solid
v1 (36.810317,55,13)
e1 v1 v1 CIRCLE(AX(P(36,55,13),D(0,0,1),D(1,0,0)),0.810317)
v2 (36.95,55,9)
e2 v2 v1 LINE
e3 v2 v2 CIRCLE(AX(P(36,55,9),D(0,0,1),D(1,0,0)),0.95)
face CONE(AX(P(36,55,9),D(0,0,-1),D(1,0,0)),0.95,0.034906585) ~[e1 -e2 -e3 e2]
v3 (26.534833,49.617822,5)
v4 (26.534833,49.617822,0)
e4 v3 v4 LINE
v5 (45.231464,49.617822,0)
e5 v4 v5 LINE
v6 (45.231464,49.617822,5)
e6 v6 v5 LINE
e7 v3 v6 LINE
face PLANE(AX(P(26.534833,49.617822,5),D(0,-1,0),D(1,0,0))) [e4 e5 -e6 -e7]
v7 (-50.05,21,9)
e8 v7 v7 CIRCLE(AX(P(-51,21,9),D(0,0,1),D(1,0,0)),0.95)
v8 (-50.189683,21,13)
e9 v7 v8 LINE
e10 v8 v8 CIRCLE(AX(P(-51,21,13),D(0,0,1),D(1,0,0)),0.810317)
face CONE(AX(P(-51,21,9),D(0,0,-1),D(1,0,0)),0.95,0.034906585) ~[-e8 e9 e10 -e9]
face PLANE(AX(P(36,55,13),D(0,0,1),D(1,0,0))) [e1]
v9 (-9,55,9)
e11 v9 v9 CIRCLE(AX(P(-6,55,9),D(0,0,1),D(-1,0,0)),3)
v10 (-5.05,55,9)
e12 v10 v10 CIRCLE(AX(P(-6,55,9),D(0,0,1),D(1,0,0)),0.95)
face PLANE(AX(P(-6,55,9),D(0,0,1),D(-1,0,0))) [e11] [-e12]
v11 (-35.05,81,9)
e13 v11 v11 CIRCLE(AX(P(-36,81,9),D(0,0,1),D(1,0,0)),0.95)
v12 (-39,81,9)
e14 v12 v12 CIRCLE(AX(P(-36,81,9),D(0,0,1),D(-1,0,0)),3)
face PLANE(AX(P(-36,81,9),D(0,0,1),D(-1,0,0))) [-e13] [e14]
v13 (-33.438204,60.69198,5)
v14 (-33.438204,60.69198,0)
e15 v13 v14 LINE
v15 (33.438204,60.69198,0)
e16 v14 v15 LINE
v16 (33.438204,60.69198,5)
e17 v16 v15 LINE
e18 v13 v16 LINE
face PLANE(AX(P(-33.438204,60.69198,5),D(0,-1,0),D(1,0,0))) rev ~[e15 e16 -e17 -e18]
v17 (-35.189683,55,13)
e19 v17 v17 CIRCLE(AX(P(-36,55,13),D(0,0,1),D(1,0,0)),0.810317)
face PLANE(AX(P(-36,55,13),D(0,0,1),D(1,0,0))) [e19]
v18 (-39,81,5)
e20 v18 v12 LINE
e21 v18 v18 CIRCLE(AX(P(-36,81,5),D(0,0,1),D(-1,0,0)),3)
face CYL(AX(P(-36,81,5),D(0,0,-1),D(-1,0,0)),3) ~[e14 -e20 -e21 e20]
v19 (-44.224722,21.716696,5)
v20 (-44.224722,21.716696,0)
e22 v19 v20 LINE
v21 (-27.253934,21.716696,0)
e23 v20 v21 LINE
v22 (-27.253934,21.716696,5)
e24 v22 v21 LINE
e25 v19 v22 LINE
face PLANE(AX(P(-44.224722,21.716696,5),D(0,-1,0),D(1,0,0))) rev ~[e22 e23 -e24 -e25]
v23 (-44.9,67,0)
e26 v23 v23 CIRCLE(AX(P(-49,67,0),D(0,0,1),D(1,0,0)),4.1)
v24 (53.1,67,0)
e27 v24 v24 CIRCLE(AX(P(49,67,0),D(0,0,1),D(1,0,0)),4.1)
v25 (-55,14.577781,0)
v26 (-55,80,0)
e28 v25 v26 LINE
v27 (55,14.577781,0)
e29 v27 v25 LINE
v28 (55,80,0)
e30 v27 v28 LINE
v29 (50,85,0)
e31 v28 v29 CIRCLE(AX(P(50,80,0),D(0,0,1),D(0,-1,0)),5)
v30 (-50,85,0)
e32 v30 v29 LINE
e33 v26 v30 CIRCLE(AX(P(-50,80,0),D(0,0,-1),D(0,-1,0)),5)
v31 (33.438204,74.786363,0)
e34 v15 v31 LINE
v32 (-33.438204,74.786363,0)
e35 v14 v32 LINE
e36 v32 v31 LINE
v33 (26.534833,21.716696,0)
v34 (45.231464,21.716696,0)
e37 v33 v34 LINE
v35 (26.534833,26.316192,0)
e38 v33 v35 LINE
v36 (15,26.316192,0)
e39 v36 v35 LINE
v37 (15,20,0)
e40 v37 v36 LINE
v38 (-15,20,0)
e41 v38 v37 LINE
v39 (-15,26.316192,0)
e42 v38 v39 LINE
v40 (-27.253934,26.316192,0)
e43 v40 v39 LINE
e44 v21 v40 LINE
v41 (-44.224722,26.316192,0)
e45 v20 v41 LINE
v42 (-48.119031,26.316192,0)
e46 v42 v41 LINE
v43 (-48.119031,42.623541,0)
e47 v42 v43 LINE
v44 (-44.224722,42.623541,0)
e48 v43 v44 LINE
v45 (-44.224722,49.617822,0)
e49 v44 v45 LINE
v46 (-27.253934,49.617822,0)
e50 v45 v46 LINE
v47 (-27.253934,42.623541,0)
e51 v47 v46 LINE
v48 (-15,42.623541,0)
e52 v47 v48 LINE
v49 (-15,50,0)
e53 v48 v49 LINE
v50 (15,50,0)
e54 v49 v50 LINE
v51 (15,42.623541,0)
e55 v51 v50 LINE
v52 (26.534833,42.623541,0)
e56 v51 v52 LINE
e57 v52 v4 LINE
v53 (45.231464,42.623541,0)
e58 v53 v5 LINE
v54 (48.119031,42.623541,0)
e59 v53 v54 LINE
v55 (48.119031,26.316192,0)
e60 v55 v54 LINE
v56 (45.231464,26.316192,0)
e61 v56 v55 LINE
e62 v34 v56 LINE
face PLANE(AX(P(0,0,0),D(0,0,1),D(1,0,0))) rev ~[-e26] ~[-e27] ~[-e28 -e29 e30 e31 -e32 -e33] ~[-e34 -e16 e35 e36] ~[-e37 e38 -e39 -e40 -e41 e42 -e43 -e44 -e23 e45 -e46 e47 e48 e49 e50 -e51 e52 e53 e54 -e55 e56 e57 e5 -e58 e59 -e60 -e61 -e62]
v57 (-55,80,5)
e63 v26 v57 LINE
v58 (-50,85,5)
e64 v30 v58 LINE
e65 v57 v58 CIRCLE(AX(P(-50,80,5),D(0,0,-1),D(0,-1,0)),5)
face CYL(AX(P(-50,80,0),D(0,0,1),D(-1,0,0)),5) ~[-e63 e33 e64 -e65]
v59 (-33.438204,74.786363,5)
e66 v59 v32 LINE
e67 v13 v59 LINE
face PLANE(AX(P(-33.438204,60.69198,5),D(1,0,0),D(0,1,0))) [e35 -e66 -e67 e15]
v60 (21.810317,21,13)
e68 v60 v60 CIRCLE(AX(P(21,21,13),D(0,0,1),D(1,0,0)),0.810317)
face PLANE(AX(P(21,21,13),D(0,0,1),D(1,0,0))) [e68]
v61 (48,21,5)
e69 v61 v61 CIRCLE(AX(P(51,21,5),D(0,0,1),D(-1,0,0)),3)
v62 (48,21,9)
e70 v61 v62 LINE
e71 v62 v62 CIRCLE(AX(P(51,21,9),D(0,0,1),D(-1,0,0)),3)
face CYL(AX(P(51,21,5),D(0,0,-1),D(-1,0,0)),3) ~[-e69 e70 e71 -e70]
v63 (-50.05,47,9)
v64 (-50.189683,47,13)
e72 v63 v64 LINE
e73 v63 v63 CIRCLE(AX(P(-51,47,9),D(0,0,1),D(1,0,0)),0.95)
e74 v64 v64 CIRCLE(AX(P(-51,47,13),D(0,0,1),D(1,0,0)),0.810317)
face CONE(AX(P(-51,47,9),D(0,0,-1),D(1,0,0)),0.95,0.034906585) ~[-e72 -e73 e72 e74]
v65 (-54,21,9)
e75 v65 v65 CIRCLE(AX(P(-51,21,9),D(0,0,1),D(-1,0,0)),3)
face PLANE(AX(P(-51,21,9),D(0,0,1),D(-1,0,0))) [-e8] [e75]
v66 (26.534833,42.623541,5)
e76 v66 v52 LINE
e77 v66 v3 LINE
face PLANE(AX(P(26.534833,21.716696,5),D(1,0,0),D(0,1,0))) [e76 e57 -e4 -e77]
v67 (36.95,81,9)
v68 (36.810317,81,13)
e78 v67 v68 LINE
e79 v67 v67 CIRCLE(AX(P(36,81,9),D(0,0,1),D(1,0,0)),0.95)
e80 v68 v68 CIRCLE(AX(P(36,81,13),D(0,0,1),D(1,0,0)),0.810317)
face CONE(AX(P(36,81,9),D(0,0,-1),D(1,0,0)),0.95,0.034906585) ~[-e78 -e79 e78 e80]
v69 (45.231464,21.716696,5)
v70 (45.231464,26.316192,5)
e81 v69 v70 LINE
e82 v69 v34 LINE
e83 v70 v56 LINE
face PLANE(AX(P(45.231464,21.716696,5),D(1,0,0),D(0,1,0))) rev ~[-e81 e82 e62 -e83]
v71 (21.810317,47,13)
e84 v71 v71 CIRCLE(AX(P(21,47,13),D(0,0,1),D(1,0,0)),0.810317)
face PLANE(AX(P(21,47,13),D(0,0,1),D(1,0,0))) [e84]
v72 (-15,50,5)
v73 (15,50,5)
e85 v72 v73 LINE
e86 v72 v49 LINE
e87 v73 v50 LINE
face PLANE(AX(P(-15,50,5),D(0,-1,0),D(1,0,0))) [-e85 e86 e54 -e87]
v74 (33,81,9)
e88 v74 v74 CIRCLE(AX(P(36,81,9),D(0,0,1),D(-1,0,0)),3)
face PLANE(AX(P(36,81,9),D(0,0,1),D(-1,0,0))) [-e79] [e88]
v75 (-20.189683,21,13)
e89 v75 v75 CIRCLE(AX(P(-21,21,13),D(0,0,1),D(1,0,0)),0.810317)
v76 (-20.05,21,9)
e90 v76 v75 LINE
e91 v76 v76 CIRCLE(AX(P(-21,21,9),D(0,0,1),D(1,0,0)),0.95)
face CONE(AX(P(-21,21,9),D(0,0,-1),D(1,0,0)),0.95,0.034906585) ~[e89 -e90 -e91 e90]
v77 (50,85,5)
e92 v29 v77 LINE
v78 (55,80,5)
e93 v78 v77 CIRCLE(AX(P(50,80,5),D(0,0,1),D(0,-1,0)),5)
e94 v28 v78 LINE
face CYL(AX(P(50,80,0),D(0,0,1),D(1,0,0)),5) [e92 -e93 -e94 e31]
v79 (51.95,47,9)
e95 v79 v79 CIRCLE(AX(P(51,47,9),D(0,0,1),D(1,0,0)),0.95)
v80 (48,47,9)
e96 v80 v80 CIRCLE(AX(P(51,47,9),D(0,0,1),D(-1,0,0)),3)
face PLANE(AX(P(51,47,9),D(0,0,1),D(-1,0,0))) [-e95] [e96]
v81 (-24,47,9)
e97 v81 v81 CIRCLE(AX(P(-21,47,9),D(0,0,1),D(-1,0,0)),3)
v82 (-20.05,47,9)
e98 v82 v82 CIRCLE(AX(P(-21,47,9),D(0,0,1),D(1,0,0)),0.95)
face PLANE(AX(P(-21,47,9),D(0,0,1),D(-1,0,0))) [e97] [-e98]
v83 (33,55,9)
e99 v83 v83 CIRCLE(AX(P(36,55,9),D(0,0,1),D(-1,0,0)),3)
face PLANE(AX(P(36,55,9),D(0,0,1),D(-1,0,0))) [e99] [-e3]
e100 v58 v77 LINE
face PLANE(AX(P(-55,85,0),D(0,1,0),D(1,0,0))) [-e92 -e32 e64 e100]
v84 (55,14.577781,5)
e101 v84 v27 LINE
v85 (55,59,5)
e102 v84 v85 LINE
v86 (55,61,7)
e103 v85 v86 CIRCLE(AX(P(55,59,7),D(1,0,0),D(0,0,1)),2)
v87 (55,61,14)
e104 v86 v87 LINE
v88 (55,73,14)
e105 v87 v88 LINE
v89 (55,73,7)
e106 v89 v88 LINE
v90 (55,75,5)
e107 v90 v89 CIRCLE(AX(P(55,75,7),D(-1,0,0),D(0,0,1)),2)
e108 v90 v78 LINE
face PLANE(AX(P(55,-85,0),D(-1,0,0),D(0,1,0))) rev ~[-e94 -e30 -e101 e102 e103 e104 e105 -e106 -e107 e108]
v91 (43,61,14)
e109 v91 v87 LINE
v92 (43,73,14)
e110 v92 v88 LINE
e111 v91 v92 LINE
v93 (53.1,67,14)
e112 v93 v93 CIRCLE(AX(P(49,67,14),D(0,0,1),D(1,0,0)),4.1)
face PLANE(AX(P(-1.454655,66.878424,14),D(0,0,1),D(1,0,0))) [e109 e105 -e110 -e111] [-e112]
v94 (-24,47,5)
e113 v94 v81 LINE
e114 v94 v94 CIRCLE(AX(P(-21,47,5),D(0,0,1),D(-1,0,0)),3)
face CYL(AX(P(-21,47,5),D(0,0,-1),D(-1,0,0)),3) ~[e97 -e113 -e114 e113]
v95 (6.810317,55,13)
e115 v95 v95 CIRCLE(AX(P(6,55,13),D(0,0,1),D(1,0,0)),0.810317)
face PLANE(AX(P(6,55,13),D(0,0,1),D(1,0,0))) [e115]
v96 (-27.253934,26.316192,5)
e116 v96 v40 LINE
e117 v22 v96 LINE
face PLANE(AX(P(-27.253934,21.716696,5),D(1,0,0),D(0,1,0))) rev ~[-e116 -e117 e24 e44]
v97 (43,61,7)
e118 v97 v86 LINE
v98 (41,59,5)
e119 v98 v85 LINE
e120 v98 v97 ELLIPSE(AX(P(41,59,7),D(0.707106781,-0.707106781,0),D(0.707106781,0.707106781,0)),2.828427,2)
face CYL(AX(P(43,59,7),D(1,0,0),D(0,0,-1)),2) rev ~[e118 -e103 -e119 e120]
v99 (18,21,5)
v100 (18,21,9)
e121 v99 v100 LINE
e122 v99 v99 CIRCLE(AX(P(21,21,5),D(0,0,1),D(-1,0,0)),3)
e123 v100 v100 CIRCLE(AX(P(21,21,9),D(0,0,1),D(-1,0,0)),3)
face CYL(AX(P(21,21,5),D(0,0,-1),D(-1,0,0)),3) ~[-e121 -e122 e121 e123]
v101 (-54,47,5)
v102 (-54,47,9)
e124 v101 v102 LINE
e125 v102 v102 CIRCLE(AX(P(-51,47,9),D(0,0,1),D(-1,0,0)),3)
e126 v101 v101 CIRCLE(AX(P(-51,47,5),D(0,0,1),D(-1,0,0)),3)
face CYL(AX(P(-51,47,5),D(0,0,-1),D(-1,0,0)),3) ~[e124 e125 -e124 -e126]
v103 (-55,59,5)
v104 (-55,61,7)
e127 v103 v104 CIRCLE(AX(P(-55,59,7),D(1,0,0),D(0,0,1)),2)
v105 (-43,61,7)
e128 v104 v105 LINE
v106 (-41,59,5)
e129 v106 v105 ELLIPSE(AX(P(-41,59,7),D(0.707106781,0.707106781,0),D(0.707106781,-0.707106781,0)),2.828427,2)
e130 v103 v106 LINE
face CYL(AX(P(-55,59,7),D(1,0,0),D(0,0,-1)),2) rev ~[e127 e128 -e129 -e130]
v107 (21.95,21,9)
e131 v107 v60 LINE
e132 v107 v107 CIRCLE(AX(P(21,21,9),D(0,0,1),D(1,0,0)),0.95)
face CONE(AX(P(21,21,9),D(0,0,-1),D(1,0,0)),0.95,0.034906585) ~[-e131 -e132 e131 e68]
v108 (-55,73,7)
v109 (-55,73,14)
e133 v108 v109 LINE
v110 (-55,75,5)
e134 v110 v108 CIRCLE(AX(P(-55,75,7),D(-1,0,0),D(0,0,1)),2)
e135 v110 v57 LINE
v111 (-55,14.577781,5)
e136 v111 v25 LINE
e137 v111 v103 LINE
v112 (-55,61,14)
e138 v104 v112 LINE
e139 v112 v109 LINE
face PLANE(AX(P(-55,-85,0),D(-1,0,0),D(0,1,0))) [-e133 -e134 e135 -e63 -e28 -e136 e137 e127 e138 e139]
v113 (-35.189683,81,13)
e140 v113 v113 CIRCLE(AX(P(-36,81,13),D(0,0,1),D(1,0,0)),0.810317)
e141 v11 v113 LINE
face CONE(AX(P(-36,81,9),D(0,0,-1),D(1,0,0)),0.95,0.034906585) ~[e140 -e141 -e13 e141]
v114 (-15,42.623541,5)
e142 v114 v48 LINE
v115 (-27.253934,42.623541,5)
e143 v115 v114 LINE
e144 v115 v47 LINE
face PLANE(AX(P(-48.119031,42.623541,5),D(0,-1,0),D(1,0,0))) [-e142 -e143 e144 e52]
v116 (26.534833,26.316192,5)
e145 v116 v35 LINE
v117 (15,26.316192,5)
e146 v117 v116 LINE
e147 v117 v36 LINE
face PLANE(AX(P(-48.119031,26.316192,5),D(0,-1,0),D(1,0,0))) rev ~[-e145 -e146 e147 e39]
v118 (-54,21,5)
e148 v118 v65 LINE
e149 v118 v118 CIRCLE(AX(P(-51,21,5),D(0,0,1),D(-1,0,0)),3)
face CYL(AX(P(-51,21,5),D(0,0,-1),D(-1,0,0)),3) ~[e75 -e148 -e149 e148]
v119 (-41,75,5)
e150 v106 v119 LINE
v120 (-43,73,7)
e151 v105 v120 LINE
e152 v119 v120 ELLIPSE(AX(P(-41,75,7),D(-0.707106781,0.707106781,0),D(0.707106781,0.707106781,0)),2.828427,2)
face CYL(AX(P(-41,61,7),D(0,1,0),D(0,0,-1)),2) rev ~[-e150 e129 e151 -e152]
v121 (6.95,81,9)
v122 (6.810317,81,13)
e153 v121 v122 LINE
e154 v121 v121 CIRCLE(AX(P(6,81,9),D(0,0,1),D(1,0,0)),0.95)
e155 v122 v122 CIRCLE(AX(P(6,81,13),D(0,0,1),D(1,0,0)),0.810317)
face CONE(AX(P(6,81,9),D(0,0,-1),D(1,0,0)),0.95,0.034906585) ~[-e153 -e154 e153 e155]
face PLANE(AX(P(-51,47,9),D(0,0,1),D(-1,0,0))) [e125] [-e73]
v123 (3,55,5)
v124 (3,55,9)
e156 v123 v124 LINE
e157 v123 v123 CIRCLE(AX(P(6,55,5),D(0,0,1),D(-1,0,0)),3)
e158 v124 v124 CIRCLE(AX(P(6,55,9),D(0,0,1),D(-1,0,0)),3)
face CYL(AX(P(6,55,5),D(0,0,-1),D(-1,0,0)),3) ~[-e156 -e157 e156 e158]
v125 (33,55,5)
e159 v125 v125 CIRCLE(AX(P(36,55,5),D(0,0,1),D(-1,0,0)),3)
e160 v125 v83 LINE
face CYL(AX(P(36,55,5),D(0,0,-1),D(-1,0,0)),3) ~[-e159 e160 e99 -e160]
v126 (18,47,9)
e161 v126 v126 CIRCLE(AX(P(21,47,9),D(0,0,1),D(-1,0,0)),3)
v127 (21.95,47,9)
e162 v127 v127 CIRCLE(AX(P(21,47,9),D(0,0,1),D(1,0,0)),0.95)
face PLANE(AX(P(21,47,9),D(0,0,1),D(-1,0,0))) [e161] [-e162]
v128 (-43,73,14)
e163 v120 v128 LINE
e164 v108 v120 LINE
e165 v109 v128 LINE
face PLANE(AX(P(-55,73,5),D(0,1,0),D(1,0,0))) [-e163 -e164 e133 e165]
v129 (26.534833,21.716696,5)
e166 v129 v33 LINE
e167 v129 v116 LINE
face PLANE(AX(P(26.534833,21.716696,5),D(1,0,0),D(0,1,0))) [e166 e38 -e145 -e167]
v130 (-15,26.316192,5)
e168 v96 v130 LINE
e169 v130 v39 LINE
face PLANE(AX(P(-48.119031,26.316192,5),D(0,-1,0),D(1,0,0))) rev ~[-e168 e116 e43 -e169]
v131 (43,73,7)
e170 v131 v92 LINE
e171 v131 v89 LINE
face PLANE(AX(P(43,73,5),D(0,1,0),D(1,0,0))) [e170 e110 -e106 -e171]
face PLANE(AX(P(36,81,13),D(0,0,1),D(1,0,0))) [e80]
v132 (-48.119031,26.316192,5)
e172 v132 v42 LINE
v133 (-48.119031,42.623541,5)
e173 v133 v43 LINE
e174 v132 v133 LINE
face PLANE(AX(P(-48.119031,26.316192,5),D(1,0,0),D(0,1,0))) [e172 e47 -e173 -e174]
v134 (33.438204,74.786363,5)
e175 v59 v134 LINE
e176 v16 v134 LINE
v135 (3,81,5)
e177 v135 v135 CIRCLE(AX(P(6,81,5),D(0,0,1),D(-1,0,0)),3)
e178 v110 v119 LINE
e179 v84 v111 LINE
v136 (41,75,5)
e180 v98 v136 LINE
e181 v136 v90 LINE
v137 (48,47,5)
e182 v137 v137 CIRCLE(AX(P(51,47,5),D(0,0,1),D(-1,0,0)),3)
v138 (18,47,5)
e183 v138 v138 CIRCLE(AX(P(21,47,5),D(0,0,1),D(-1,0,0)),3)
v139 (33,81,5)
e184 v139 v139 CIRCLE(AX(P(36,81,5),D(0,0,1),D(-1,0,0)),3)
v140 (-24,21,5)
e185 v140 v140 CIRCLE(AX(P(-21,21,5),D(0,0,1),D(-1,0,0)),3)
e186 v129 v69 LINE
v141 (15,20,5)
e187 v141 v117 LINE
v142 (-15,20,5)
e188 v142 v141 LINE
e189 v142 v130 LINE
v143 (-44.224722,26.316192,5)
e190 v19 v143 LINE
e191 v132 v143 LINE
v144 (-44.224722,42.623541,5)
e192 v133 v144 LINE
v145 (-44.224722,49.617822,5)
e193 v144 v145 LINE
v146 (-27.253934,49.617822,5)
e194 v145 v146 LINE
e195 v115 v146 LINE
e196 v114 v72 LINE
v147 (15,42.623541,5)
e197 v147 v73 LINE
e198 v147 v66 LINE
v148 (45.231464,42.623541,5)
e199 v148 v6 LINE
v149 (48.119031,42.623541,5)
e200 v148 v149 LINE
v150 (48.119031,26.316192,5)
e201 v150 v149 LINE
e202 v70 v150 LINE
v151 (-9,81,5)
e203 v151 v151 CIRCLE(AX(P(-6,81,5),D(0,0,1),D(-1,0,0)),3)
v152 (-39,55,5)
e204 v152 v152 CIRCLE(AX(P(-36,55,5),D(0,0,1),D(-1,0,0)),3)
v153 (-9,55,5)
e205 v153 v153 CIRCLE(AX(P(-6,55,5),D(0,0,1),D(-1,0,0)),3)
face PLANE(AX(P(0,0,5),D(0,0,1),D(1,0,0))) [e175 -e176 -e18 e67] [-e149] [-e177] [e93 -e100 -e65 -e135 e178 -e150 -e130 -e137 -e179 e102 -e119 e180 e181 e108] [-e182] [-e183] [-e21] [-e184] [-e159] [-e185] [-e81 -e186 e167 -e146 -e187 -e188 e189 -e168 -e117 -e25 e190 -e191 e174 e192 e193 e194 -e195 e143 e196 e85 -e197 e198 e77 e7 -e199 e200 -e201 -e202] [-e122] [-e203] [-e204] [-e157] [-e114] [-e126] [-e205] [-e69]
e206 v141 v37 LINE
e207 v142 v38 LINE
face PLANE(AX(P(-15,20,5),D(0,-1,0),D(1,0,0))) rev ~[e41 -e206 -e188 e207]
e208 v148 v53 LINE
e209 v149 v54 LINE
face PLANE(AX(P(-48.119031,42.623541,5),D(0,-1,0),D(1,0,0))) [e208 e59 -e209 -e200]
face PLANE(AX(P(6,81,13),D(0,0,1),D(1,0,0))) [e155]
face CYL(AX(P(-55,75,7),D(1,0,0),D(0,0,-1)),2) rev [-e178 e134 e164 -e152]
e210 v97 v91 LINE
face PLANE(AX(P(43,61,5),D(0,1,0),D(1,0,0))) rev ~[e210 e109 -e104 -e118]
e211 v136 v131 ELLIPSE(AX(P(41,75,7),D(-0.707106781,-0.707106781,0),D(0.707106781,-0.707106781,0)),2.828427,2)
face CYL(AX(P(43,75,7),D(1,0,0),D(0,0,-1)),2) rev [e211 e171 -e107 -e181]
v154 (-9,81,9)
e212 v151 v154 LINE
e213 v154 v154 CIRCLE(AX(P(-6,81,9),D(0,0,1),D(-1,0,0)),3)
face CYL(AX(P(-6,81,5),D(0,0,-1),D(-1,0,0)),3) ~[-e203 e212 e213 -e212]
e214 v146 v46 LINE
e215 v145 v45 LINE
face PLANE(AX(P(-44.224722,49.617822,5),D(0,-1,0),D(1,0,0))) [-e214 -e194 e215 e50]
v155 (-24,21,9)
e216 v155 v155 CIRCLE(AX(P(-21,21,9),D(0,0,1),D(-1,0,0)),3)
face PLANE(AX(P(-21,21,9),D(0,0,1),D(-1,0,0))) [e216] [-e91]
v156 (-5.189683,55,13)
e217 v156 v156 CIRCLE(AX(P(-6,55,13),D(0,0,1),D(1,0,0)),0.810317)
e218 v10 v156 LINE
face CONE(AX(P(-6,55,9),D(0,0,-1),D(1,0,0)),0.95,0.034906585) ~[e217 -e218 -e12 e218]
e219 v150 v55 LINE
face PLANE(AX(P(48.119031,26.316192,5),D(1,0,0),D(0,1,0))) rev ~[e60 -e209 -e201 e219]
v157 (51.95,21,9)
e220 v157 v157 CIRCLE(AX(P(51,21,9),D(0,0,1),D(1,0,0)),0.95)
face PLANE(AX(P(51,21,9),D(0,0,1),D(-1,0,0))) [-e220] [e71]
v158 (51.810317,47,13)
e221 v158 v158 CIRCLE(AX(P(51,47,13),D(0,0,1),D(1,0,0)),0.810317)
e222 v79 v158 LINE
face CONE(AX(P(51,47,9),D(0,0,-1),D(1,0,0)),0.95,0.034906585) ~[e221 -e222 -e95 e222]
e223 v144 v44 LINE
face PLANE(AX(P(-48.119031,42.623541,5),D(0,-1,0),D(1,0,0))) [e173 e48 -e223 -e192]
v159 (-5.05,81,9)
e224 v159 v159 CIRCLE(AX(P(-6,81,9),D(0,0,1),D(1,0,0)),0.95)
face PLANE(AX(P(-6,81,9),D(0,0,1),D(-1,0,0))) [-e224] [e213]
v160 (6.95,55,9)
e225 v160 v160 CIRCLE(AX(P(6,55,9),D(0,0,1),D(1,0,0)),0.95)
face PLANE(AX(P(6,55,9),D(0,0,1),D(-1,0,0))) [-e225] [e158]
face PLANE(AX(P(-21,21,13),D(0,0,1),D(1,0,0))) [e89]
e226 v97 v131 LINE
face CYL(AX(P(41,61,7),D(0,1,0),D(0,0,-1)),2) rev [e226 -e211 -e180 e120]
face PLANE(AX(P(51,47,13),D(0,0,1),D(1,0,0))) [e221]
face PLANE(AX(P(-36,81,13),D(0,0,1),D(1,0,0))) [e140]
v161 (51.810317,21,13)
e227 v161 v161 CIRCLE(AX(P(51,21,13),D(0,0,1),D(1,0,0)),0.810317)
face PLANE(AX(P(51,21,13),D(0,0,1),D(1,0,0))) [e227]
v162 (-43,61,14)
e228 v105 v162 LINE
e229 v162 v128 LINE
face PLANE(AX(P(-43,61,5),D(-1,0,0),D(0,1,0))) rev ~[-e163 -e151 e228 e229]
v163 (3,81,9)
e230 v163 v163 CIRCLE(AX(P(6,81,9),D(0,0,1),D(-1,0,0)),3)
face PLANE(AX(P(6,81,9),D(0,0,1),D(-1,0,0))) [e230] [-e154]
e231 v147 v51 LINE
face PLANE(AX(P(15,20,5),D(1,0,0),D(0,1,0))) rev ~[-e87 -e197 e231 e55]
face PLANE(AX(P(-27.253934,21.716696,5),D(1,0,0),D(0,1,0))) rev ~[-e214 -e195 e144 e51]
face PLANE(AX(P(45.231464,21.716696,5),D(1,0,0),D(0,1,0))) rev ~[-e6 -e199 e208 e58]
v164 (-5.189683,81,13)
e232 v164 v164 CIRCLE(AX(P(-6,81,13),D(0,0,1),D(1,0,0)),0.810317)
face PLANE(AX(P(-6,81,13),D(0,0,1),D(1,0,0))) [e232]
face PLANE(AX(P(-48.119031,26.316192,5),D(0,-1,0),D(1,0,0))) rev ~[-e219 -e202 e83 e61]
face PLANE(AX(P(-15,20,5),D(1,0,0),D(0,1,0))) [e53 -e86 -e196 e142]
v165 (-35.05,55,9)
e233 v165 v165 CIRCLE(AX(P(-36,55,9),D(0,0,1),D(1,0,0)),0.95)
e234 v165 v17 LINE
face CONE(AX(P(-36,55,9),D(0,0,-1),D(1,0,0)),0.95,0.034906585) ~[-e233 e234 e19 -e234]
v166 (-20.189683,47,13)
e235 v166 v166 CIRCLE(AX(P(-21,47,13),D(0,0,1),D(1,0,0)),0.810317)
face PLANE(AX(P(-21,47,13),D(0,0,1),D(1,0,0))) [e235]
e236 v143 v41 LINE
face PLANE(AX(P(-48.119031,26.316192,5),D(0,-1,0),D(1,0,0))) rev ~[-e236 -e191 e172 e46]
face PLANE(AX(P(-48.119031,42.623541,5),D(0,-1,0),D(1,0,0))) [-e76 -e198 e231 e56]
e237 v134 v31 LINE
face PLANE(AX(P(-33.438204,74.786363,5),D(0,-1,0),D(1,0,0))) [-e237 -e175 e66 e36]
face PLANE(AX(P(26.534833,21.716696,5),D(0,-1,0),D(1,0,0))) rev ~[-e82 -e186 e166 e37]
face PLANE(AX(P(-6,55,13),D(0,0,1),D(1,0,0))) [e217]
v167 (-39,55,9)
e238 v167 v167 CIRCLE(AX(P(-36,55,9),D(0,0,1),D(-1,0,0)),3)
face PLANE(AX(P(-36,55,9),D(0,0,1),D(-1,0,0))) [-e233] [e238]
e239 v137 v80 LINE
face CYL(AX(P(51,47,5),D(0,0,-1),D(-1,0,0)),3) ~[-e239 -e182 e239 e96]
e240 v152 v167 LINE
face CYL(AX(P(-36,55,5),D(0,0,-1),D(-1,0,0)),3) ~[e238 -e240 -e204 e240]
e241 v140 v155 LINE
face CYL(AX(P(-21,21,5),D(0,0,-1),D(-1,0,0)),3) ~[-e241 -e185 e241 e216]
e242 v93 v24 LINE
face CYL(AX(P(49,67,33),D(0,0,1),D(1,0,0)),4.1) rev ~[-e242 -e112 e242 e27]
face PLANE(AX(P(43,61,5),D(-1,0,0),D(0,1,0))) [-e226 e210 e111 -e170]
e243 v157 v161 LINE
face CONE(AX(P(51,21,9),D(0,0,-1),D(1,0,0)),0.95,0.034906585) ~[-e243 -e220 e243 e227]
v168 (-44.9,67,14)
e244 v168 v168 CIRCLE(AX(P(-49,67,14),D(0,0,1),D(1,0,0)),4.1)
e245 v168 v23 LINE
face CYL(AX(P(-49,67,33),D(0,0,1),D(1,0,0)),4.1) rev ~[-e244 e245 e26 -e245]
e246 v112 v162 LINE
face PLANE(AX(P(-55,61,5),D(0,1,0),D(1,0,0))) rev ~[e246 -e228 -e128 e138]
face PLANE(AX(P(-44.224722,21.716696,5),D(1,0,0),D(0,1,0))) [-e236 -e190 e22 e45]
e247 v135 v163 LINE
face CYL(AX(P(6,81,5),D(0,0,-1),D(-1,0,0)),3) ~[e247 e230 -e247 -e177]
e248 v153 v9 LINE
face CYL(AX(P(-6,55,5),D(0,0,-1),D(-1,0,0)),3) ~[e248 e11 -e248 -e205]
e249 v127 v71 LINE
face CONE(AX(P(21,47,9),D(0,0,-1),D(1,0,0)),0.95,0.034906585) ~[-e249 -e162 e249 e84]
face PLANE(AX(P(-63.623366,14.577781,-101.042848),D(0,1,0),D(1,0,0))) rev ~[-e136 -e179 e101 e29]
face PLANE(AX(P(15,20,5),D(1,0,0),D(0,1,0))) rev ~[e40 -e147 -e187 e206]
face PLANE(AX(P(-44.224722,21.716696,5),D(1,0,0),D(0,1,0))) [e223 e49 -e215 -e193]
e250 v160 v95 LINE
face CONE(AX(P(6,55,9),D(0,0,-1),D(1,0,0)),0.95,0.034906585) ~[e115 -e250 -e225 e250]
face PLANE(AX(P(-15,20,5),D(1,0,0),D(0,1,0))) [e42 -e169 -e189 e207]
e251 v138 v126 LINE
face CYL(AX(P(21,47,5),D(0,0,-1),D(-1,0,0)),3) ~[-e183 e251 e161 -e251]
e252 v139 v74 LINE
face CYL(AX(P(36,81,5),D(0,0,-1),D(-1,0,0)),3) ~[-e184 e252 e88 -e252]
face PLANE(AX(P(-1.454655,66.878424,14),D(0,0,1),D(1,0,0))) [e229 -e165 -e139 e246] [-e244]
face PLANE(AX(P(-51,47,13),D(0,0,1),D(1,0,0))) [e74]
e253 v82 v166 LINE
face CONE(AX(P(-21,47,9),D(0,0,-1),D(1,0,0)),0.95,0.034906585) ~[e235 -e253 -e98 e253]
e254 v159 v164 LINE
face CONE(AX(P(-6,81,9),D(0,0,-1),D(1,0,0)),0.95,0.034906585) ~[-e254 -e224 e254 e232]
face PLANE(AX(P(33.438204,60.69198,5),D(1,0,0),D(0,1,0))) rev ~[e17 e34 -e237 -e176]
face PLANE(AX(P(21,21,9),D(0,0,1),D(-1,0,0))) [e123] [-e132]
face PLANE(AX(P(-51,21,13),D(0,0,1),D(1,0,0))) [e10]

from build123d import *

# Parameters (mm, degrees)
SKIZZE1_W                                  = 110
SKIZZE1_H                                  = 170
AUFSATZ_LINEAR_AUSTRAGEN1_DEPTH            = 5
VERRUNDUNG1_R                              = 5
SKIZZE7_W                                  = 12
SKIZZE7_H                                  = 12
AUFSATZ_LINEAR_AUSTRAGEN3_DEPTH            = 28
VERRUNDUNG2_R                              = 2
SKIZZE8_R                                  = 4.1
SCHNITT_LINEAR_AUSTRAGEN3_DEPTH            = 107.484740691
LINEARES_MUSTER1_COUNT                     = 2
LINEARES_MUSTER1_PITCH                     = 134
LINEARES_MUSTER1_COUNT_DIR2                = 2
LINEARES_MUSTER1_PITCH_DIR2                = 98
SKIZZE9_R                                  = 3
AUFSATZ_LINEAR_AUSTRAGEN4_DEPTH            = 4
SKIZZE10_R                                 = 0.95
AUFSATZ_LINEAR_AUSTRAGEN5_DEPTH            = 4
AUFSATZ_LINEAR_AUSTRAGEN5_DRAFT            = 2
AUFSATZ_LINEAR_AUSTRAGEN5_PROFILE_2_DEPTH  = 4
AUFSATZ_LINEAR_AUSTRAGEN5_PROFILE_2_DRAFT  = 2
AUFSATZ_LINEAR_AUSTRAGEN5_PROFILE_3_DEPTH  = 4
AUFSATZ_LINEAR_AUSTRAGEN5_PROFILE_3_DRAFT  = 2
AUFSATZ_LINEAR_AUSTRAGEN5_PROFILE_4_DEPTH  = 4
AUFSATZ_LINEAR_AUSTRAGEN5_PROFILE_4_DRAFT  = 2
AUFSATZ_LINEAR_AUSTRAGEN5_PROFILE_5_DEPTH  = 4
AUFSATZ_LINEAR_AUSTRAGEN5_PROFILE_5_DRAFT  = 2
AUFSATZ_LINEAR_AUSTRAGEN5_PROFILE_6_DEPTH  = 4
AUFSATZ_LINEAR_AUSTRAGEN5_PROFILE_6_DRAFT  = 2
AUFSATZ_LINEAR_AUSTRAGEN5_PROFILE_7_DEPTH  = 4
AUFSATZ_LINEAR_AUSTRAGEN5_PROFILE_7_DRAFT  = 2
AUFSATZ_LINEAR_AUSTRAGEN5_PROFILE_8_DEPTH  = 4
AUFSATZ_LINEAR_AUSTRAGEN5_PROFILE_8_DRAFT  = 2
AUFSATZ_LINEAR_AUSTRAGEN5_PROFILE_9_DEPTH  = 4
AUFSATZ_LINEAR_AUSTRAGEN5_PROFILE_9_DRAFT  = 2
AUFSATZ_LINEAR_AUSTRAGEN5_PROFILE_10_DEPTH = 4
AUFSATZ_LINEAR_AUSTRAGEN5_PROFILE_10_DRAFT = 2
AUFSATZ_LINEAR_AUSTRAGEN5_PROFILE_11_DEPTH = 4
AUFSATZ_LINEAR_AUSTRAGEN5_PROFILE_11_DRAFT = 2
AUFSATZ_LINEAR_AUSTRAGEN5_PROFILE_12_DEPTH = 4
AUFSATZ_LINEAR_AUSTRAGEN5_PROFILE_12_DRAFT = 2
AUFSATZ_LINEAR_AUSTRAGEN5_PROFILE_13_DEPTH = 4
AUFSATZ_LINEAR_AUSTRAGEN5_PROFILE_13_DRAFT = 2
AUFSATZ_LINEAR_AUSTRAGEN5_PROFILE_14_DEPTH = 4
AUFSATZ_LINEAR_AUSTRAGEN5_PROFILE_14_DRAFT = 2
AUFSATZ_LINEAR_AUSTRAGEN5_PROFILE_15_DEPTH = 4
AUFSATZ_LINEAR_AUSTRAGEN5_PROFILE_15_DRAFT = 2
AUFSATZ_LINEAR_AUSTRAGEN5_PROFILE_16_DEPTH = 4
AUFSATZ_LINEAR_AUSTRAGEN5_PROFILE_16_DRAFT = 2
AUFSATZ_LINEAR_AUSTRAGEN5_PROFILE_17_DEPTH = 4
AUFSATZ_LINEAR_AUSTRAGEN5_PROFILE_17_DRAFT = 2
AUFSATZ_LINEAR_AUSTRAGEN5_PROFILE_18_DEPTH = 4
AUFSATZ_LINEAR_AUSTRAGEN5_PROFILE_18_DRAFT = 2
AUFSATZ_LINEAR_AUSTRAGEN5_PROFILE_19_DEPTH = 4
AUFSATZ_LINEAR_AUSTRAGEN5_PROFILE_19_DRAFT = 2
AUFSATZ_LINEAR_AUSTRAGEN5_PROFILE_20_DEPTH = 4
AUFSATZ_LINEAR_AUSTRAGEN5_PROFILE_20_DRAFT = 2
FASE1_SIZE                                 = 1.2
SKIZZE11_W                                 = 30
SKIZZE11_H                                 = 30
SCHNITT_LINEAR_AUSTRAGEN4_DEPTH            = 106.0428484
SCHNITT_LINEAR_AUSTRAGEN5_DEPTH            = 106.0428484
SCHNITT_LINEAR_AUSTRAGEN5_DEPTH_BACK       = 106.0428484
SKIZZE12_W                                 = 127.246732026
SKIZZE12_H                                 = 102.785709754
SKIZZE13_W                                 = 132.216184194
SKIZZE13_H                                 = 22.314967796
SCHNITT_LINEAR_AUSTRAGEN6_DEPTH            = 19
SKIZZE14_W                                 = 16.970787643
SKIZZE14_H                                 = 27.901125447
SKIZZE14_W_2                               = 66.876408934
SKIZZE14_H_2                               = 14.094382958
SKIZZE14_W_3                               = 18.696630454
SCHNITT_LINEAR_AUSTRAGEN7_DEPTH            = 102.641526946
SKIZZE15_W                                 = 96.238062378
SKIZZE15_H                                 = 16.307348182
SCHNITT_LINEAR_AUSTRAGEN8_DEPTH            = 102.641526946


with BuildPart() as part:
    # Skizze1 → Aufsatz-Linear austragen1 (new body)
    with BuildSketch(Plane.XY):
        Rectangle(SKIZZE1_W, SKIZZE1_H)
    extrude(amount=AUFSATZ_LINEAR_AUSTRAGEN1_DEPTH)

    # Verrundung1
    verrundung1_edges = [part.edges().sort_by_distance(p)[0] for p in [
        (55, -85, 2.5),
        (-55, -85, 2.5),
        (-55, 85, 2.5),
        (55, 85, 2.5),
    ]]
    fillet(verrundung1_edges, radius=VERRUNDUNG1_R)

    # Skizze7 → Aufsatz-Linear austragen3 (add)
    with BuildSketch(Plane.XY.offset(5)):
        with Locations((-49, 67)):
            Rectangle(SKIZZE7_W, SKIZZE7_H)
        with Locations((49, 67)):
            Rectangle(SKIZZE7_W, SKIZZE7_H)
        with Locations((49, -67)):
            Rectangle(SKIZZE7_W, SKIZZE7_H)
        with Locations((-49, -67)):
            Rectangle(SKIZZE7_W, SKIZZE7_H)
    extrude(amount=AUFSATZ_LINEAR_AUSTRAGEN3_DEPTH)

    # Verrundung2
    verrundung2_edges = [part.edges().sort_by_distance(p)[0] for p in [
        (-49, 61, 5),
        (-43, 67, 5),
        (-49, 73, 5),
        (49, 73, 5),
        (43, 67, 5),
        (49, 61, 5),
        (49, -61, 5),
        (43, -67, 5),
        (49, -73, 5),
        (-49, -73, 5),
        (-43, -67, 5),
        (-49, -61, 5),
    ]]
    fillet(verrundung2_edges, radius=VERRUNDUNG2_R)

    # Skizze8 → Schnitt-Linear austragen3 (cut, through all)
    with BuildSketch(Plane.XY.offset(33)):
        with Locations((-49, 67)):
            Circle(SKIZZE8_R)
    schnitt_linear_austragen3 = extrude(amount=-SCHNITT_LINEAR_AUSTRAGEN3_DEPTH, mode=Mode.SUBTRACT)

    # Lineares Muster1: Schnitt-Linear austragen3 2 × 2
    with Locations(*[(j * LINEARES_MUSTER1_PITCH_DIR2, -i * LINEARES_MUSTER1_PITCH, 0) for i in range(LINEARES_MUSTER1_COUNT) for j in range(LINEARES_MUSTER1_COUNT_DIR2) if (i, j) != (0, 0)]):
        add(schnitt_linear_austragen3, mode=Mode.SUBTRACT)

    # Skizze9 → Aufsatz-Linear austragen4 (add)
    with BuildSketch(Plane.XY.offset(5)):
        with Locations(Location((24.75, -73.75, 0), (0, 0, 180))):
            Circle(SKIZZE9_R)
        with Locations(Location((24.75, -16.25, 0), (0, 0, 180))):
            Circle(SKIZZE9_R)
        with Locations(Location((-24.75, -16.25, 0), (0, 0, 180))):
            Circle(SKIZZE9_R)
        with Locations(Location((-24.75, -73.75, 0), (0, 0, 180))):
            Circle(SKIZZE9_R)
        with Locations(Location((-36, 81, 0), (0, 0, 180))):
            Circle(SKIZZE9_R)
        with Locations(Location((-6, 81, 0), (0, 0, 180))):
            Circle(SKIZZE9_R)
        with Locations(Location((-36, 55, 0), (0, 0, 180))):
            Circle(SKIZZE9_R)
        with Locations(Location((-6, 55, 0), (0, 0, 180))):
            Circle(SKIZZE9_R)
        with Locations(Location((6, 81, 0), (0, 0, 180))):
            Circle(SKIZZE9_R)
        with Locations(Location((36, 81, 0), (0, 0, 180))):
            Circle(SKIZZE9_R)
        with Locations(Location((36, 55, 0), (0, 0, 180))):
            Circle(SKIZZE9_R)
        with Locations(Location((6, 55, 0), (0, 0, 180))):
            Circle(SKIZZE9_R)
        with Locations(Location((21, 47, 0), (0, 0, 180))):
            Circle(SKIZZE9_R)
        with Locations(Location((51, 47, 0), (0, 0, 180))):
            Circle(SKIZZE9_R)
        with Locations(Location((51, 21, 0), (0, 0, 180))):
            Circle(SKIZZE9_R)
        with Locations(Location((21, 21, 0), (0, 0, 180))):
            Circle(SKIZZE9_R)
        with Locations(Location((-21, 47, 0), (0, 0, 180))):
            Circle(SKIZZE9_R)
        with Locations(Location((-51, 47, 0), (0, 0, 180))):
            Circle(SKIZZE9_R)
        with Locations(Location((-51, 21, 0), (0, 0, 180))):
            Circle(SKIZZE9_R)
        with Locations(Location((-21, 21, 0), (0, 0, 180))):
            Circle(SKIZZE9_R)
    extrude(amount=AUFSATZ_LINEAR_AUSTRAGEN4_DEPTH)


with BuildPart() as aufsatz_linear_austragen5_tool:
    # Skizze10 → Aufsatz-Linear austragen5 (with draft: the straight prism first)
    with BuildSketch(Plane.XY.offset(9)):
        with Locations((24.75, -73.75)):
            Circle(SKIZZE10_R)
    extrude(amount=AUFSATZ_LINEAR_AUSTRAGEN5_DEPTH)
    # Aufsatz-Linear austragen5: the draft: its side faces are tilted about the plane it starts from
    aufsatz_linear_austragen5_sides = [aufsatz_linear_austragen5_tool.faces().sort_by_distance(p)[0] for p in [
        (23.8, -73.75, 11),
    ]]
    draft(aufsatz_linear_austragen5_sides, Plane.XY.offset(9), AUFSATZ_LINEAR_AUSTRAGEN5_DRAFT)


with BuildPart() as part_1:
    add(part.part)

    # Aufsatz-Linear austragen5: add aufsatz_linear_austragen5_tool
    add(aufsatz_linear_austragen5_tool.part)


with BuildPart() as aufsatz_linear_austragen5_profile_2_tool:
    # Skizze10 → Aufsatz-Linear austragen5 profile 2 (with draft: the straight prism first)
    with BuildSketch(Plane.XY.offset(9)):
        with Locations((24.75, -16.25)):
            Circle(SKIZZE10_R)
    extrude(amount=AUFSATZ_LINEAR_AUSTRAGEN5_PROFILE_2_DEPTH)
    # Aufsatz-Linear austragen5 profile 2: the draft: its side faces are tilted about the plane it starts from
    aufsatz_linear_austragen5_profile_2_sides = [aufsatz_linear_austragen5_profile_2_tool.faces().sort_by_distance(p)[0] for p in [
        (23.8, -16.25, 11),
    ]]
    draft(aufsatz_linear_austragen5_profile_2_sides, Plane.XY.offset(9), AUFSATZ_LINEAR_AUSTRAGEN5_PROFILE_2_DRAFT)


with BuildPart() as part_2:
    add(part_1.part)

    # Aufsatz-Linear austragen5 profile 2: add aufsatz_linear_austragen5_profile_2_tool
    add(aufsatz_linear_austragen5_profile_2_tool.part)


with BuildPart() as aufsatz_linear_austragen5_profile_3_tool:
    # Skizze10 → Aufsatz-Linear austragen5 profile 3 (with draft: the straight prism first)
    with BuildSketch(Plane.XY.offset(9)):
        with Locations((-24.75, -16.25)):
            Circle(SKIZZE10_R)
    extrude(amount=AUFSATZ_LINEAR_AUSTRAGEN5_PROFILE_3_DEPTH)
    # Aufsatz-Linear austragen5 profile 3: the draft: its side faces are tilted about the plane it starts from
    aufsatz_linear_austragen5_profile_3_sides = [aufsatz_linear_austragen5_profile_3_tool.faces().sort_by_distance(p)[0] for p in [
        (-25.7, -16.25, 11),
    ]]
    draft(aufsatz_linear_austragen5_profile_3_sides, Plane.XY.offset(9), AUFSATZ_LINEAR_AUSTRAGEN5_PROFILE_3_DRAFT)


with BuildPart() as part_3:
    add(part_2.part)

    # Aufsatz-Linear austragen5 profile 3: add aufsatz_linear_austragen5_profile_3_tool
    add(aufsatz_linear_austragen5_profile_3_tool.part)


with BuildPart() as aufsatz_linear_austragen5_profile_4_tool:
    # Skizze10 → Aufsatz-Linear austragen5 profile 4 (with draft: the straight prism first)
    with BuildSketch(Plane.XY.offset(9)):
        with Locations((-24.75, -73.75)):
            Circle(SKIZZE10_R)
    extrude(amount=AUFSATZ_LINEAR_AUSTRAGEN5_PROFILE_4_DEPTH)
    # Aufsatz-Linear austragen5 profile 4: the draft: its side faces are tilted about the plane it starts from
    aufsatz_linear_austragen5_profile_4_sides = [aufsatz_linear_austragen5_profile_4_tool.faces().sort_by_distance(p)[0] for p in [
        (-25.7, -73.75, 11),
    ]]
    draft(aufsatz_linear_austragen5_profile_4_sides, Plane.XY.offset(9), AUFSATZ_LINEAR_AUSTRAGEN5_PROFILE_4_DRAFT)


with BuildPart() as part_4:
    add(part_3.part)

    # Aufsatz-Linear austragen5 profile 4: add aufsatz_linear_austragen5_profile_4_tool
    add(aufsatz_linear_austragen5_profile_4_tool.part)


with BuildPart() as aufsatz_linear_austragen5_profile_5_tool:
    # Skizze10 → Aufsatz-Linear austragen5 profile 5 (with draft: the straight prism first)
    with BuildSketch(Plane.XY.offset(9)):
        with Locations((-51, 47)):
            Circle(SKIZZE10_R)
    extrude(amount=AUFSATZ_LINEAR_AUSTRAGEN5_PROFILE_5_DEPTH)
    # Aufsatz-Linear austragen5 profile 5: the draft: its side faces are tilted about the plane it starts from
    aufsatz_linear_austragen5_profile_5_sides = [aufsatz_linear_austragen5_profile_5_tool.faces().sort_by_distance(p)[0] for p in [
        (-51.95, 47, 11),
    ]]
    draft(aufsatz_linear_austragen5_profile_5_sides, Plane.XY.offset(9), AUFSATZ_LINEAR_AUSTRAGEN5_PROFILE_5_DRAFT)


with BuildPart() as part_5:
    add(part_4.part)

    # Aufsatz-Linear austragen5 profile 5: add aufsatz_linear_austragen5_profile_5_tool
    add(aufsatz_linear_austragen5_profile_5_tool.part)


with BuildPart() as aufsatz_linear_austragen5_profile_6_tool:
    # Skizze10 → Aufsatz-Linear austragen5 profile 6 (with draft: the straight prism first)
    with BuildSketch(Plane.XY.offset(9)):
        with Locations((-51, 21)):
            Circle(SKIZZE10_R)
    extrude(amount=AUFSATZ_LINEAR_AUSTRAGEN5_PROFILE_6_DEPTH)
    # Aufsatz-Linear austragen5 profile 6: the draft: its side faces are tilted about the plane it starts from
    aufsatz_linear_austragen5_profile_6_sides = [aufsatz_linear_austragen5_profile_6_tool.faces().sort_by_distance(p)[0] for p in [
        (-51.95, 21, 11),
    ]]
    draft(aufsatz_linear_austragen5_profile_6_sides, Plane.XY.offset(9), AUFSATZ_LINEAR_AUSTRAGEN5_PROFILE_6_DRAFT)


with BuildPart() as part_6:
    add(part_5.part)

    # Aufsatz-Linear austragen5 profile 6: add aufsatz_linear_austragen5_profile_6_tool
    add(aufsatz_linear_austragen5_profile_6_tool.part)


with BuildPart() as aufsatz_linear_austragen5_profile_7_tool:
    # Skizze10 → Aufsatz-Linear austragen5 profile 7 (with draft: the straight prism first)
    with BuildSketch(Plane.XY.offset(9)):
        with Locations((-21, 21)):
            Circle(SKIZZE10_R)
    extrude(amount=AUFSATZ_LINEAR_AUSTRAGEN5_PROFILE_7_DEPTH)
    # Aufsatz-Linear austragen5 profile 7: the draft: its side faces are tilted about the plane it starts from
    aufsatz_linear_austragen5_profile_7_sides = [aufsatz_linear_austragen5_profile_7_tool.faces().sort_by_distance(p)[0] for p in [
        (-21.95, 21, 11),
    ]]
    draft(aufsatz_linear_austragen5_profile_7_sides, Plane.XY.offset(9), AUFSATZ_LINEAR_AUSTRAGEN5_PROFILE_7_DRAFT)


with BuildPart() as part_7:
    add(part_6.part)

    # Aufsatz-Linear austragen5 profile 7: add aufsatz_linear_austragen5_profile_7_tool
    add(aufsatz_linear_austragen5_profile_7_tool.part)


with BuildPart() as aufsatz_linear_austragen5_profile_8_tool:
    # Skizze10 → Aufsatz-Linear austragen5 profile 8 (with draft: the straight prism first)
    with BuildSketch(Plane.XY.offset(9)):
        with Locations((-21, 47)):
            Circle(SKIZZE10_R)
    extrude(amount=AUFSATZ_LINEAR_AUSTRAGEN5_PROFILE_8_DEPTH)
    # Aufsatz-Linear austragen5 profile 8: the draft: its side faces are tilted about the plane it starts from
    aufsatz_linear_austragen5_profile_8_sides = [aufsatz_linear_austragen5_profile_8_tool.faces().sort_by_distance(p)[0] for p in [
        (-21.95, 47, 11),
    ]]
    draft(aufsatz_linear_austragen5_profile_8_sides, Plane.XY.offset(9), AUFSATZ_LINEAR_AUSTRAGEN5_PROFILE_8_DRAFT)


with BuildPart() as part_8:
    add(part_7.part)

    # Aufsatz-Linear austragen5 profile 8: add aufsatz_linear_austragen5_profile_8_tool
    add(aufsatz_linear_austragen5_profile_8_tool.part)


with BuildPart() as aufsatz_linear_austragen5_profile_9_tool:
    # Skizze10 → Aufsatz-Linear austragen5 profile 9 (with draft: the straight prism first)
    with BuildSketch(Plane.XY.offset(9)):
        with Locations((-36, 55)):
            Circle(SKIZZE10_R)
    extrude(amount=AUFSATZ_LINEAR_AUSTRAGEN5_PROFILE_9_DEPTH)
    # Aufsatz-Linear austragen5 profile 9: the draft: its side faces are tilted about the plane it starts from
    aufsatz_linear_austragen5_profile_9_sides = [aufsatz_linear_austragen5_profile_9_tool.faces().sort_by_distance(p)[0] for p in [
        (-36.95, 55, 11),
    ]]
    draft(aufsatz_linear_austragen5_profile_9_sides, Plane.XY.offset(9), AUFSATZ_LINEAR_AUSTRAGEN5_PROFILE_9_DRAFT)


with BuildPart() as part_9:
    add(part_8.part)

    # Aufsatz-Linear austragen5 profile 9: add aufsatz_linear_austragen5_profile_9_tool
    add(aufsatz_linear_austragen5_profile_9_tool.part)


with BuildPart() as aufsatz_linear_austragen5_profile_10_tool:
    # Skizze10 → Aufsatz-Linear austragen5 profile 10 (with draft: the straight prism first)
    with BuildSketch(Plane.XY.offset(9)):
        with Locations((-6, 55)):
            Circle(SKIZZE10_R)
    extrude(amount=AUFSATZ_LINEAR_AUSTRAGEN5_PROFILE_10_DEPTH)
    # Aufsatz-Linear austragen5 profile 10: the draft: its side faces are tilted about the plane it starts from
    aufsatz_linear_austragen5_profile_10_sides = [aufsatz_linear_austragen5_profile_10_tool.faces().sort_by_distance(p)[0] for p in [
        (-6.95, 55, 11),
    ]]
    draft(aufsatz_linear_austragen5_profile_10_sides, Plane.XY.offset(9), AUFSATZ_LINEAR_AUSTRAGEN5_PROFILE_10_DRAFT)


with BuildPart() as part_10:
    add(part_9.part)

    # Aufsatz-Linear austragen5 profile 10: add aufsatz_linear_austragen5_profile_10_tool
    add(aufsatz_linear_austragen5_profile_10_tool.part)


with BuildPart() as aufsatz_linear_austragen5_profile_11_tool:
    # Skizze10 → Aufsatz-Linear austragen5 profile 11 (with draft: the straight prism first)
    with BuildSketch(Plane.XY.offset(9)):
        with Locations((6, 55)):
            Circle(SKIZZE10_R)
    extrude(amount=AUFSATZ_LINEAR_AUSTRAGEN5_PROFILE_11_DEPTH)
    # Aufsatz-Linear austragen5 profile 11: the draft: its side faces are tilted about the plane it starts from
    aufsatz_linear_austragen5_profile_11_sides = [aufsatz_linear_austragen5_profile_11_tool.faces().sort_by_distance(p)[0] for p in [
        (5.05, 55, 11),
    ]]
    draft(aufsatz_linear_austragen5_profile_11_sides, Plane.XY.offset(9), AUFSATZ_LINEAR_AUSTRAGEN5_PROFILE_11_DRAFT)


with BuildPart() as part_11:
    add(part_10.part)

    # Aufsatz-Linear austragen5 profile 11: add aufsatz_linear_austragen5_profile_11_tool
    add(aufsatz_linear_austragen5_profile_11_tool.part)


with BuildPart() as aufsatz_linear_austragen5_profile_12_tool:
    # Skizze10 → Aufsatz-Linear austragen5 profile 12 (with draft: the straight prism first)
    with BuildSketch(Plane.XY.offset(9)):
        with Locations((-36, 81)):
            Circle(SKIZZE10_R)
    extrude(amount=AUFSATZ_LINEAR_AUSTRAGEN5_PROFILE_12_DEPTH)
    # Aufsatz-Linear austragen5 profile 12: the draft: its side faces are tilted about the plane it starts from
    aufsatz_linear_austragen5_profile_12_sides = [aufsatz_linear_austragen5_profile_12_tool.faces().sort_by_distance(p)[0] for p in [
        (-36.95, 81, 11),
    ]]
    draft(aufsatz_linear_austragen5_profile_12_sides, Plane.XY.offset(9), AUFSATZ_LINEAR_AUSTRAGEN5_PROFILE_12_DRAFT)


with BuildPart() as part_12:
    add(part_11.part)

    # Aufsatz-Linear austragen5 profile 12: add aufsatz_linear_austragen5_profile_12_tool
    add(aufsatz_linear_austragen5_profile_12_tool.part)


with BuildPart() as aufsatz_linear_austragen5_profile_13_tool:
    # Skizze10 → Aufsatz-Linear austragen5 profile 13 (with draft: the straight prism first)
    with BuildSketch(Plane.XY.offset(9)):
        with Locations((-6, 81)):
            Circle(SKIZZE10_R)
    extrude(amount=AUFSATZ_LINEAR_AUSTRAGEN5_PROFILE_13_DEPTH)
    # Aufsatz-Linear austragen5 profile 13: the draft: its side faces are tilted about the plane it starts from
    aufsatz_linear_austragen5_profile_13_sides = [aufsatz_linear_austragen5_profile_13_tool.faces().sort_by_distance(p)[0] for p in [
        (-6.95, 81, 11),
    ]]
    draft(aufsatz_linear_austragen5_profile_13_sides, Plane.XY.offset(9), AUFSATZ_LINEAR_AUSTRAGEN5_PROFILE_13_DRAFT)


with BuildPart() as part_13:
    add(part_12.part)

    # Aufsatz-Linear austragen5 profile 13: add aufsatz_linear_austragen5_profile_13_tool
    add(aufsatz_linear_austragen5_profile_13_tool.part)


with BuildPart() as aufsatz_linear_austragen5_profile_14_tool:
    # Skizze10 → Aufsatz-Linear austragen5 profile 14 (with draft: the straight prism first)
    with BuildSketch(Plane.XY.offset(9)):
        with Locations((6, 81)):
            Circle(SKIZZE10_R)
    extrude(amount=AUFSATZ_LINEAR_AUSTRAGEN5_PROFILE_14_DEPTH)
    # Aufsatz-Linear austragen5 profile 14: the draft: its side faces are tilted about the plane it starts from
    aufsatz_linear_austragen5_profile_14_sides = [aufsatz_linear_austragen5_profile_14_tool.faces().sort_by_distance(p)[0] for p in [
        (5.05, 81, 11),
    ]]
    draft(aufsatz_linear_austragen5_profile_14_sides, Plane.XY.offset(9), AUFSATZ_LINEAR_AUSTRAGEN5_PROFILE_14_DRAFT)


with BuildPart() as part_14:
    add(part_13.part)

    # Aufsatz-Linear austragen5 profile 14: add aufsatz_linear_austragen5_profile_14_tool
    add(aufsatz_linear_austragen5_profile_14_tool.part)


with BuildPart() as aufsatz_linear_austragen5_profile_15_tool:
    # Skizze10 → Aufsatz-Linear austragen5 profile 15 (with draft: the straight prism first)
    with BuildSketch(Plane.XY.offset(9)):
        with Locations((36, 81)):
            Circle(SKIZZE10_R)
    extrude(amount=AUFSATZ_LINEAR_AUSTRAGEN5_PROFILE_15_DEPTH)
    # Aufsatz-Linear austragen5 profile 15: the draft: its side faces are tilted about the plane it starts from
    aufsatz_linear_austragen5_profile_15_sides = [aufsatz_linear_austragen5_profile_15_tool.faces().sort_by_distance(p)[0] for p in [
        (35.05, 81, 11),
    ]]
    draft(aufsatz_linear_austragen5_profile_15_sides, Plane.XY.offset(9), AUFSATZ_LINEAR_AUSTRAGEN5_PROFILE_15_DRAFT)


with BuildPart() as part_15:
    add(part_14.part)

    # Aufsatz-Linear austragen5 profile 15: add aufsatz_linear_austragen5_profile_15_tool
    add(aufsatz_linear_austragen5_profile_15_tool.part)


with BuildPart() as aufsatz_linear_austragen5_profile_16_tool:
    # Skizze10 → Aufsatz-Linear austragen5 profile 16 (with draft: the straight prism first)
    with BuildSketch(Plane.XY.offset(9)):
        with Locations((36, 55)):
            Circle(SKIZZE10_R)
    extrude(amount=AUFSATZ_LINEAR_AUSTRAGEN5_PROFILE_16_DEPTH)
    # Aufsatz-Linear austragen5 profile 16: the draft: its side faces are tilted about the plane it starts from
    aufsatz_linear_austragen5_profile_16_sides = [aufsatz_linear_austragen5_profile_16_tool.faces().sort_by_distance(p)[0] for p in [
        (35.05, 55, 11),
    ]]
    draft(aufsatz_linear_austragen5_profile_16_sides, Plane.XY.offset(9), AUFSATZ_LINEAR_AUSTRAGEN5_PROFILE_16_DRAFT)


with BuildPart() as part_16:
    add(part_15.part)

    # Aufsatz-Linear austragen5 profile 16: add aufsatz_linear_austragen5_profile_16_tool
    add(aufsatz_linear_austragen5_profile_16_tool.part)


with BuildPart() as aufsatz_linear_austragen5_profile_17_tool:
    # Skizze10 → Aufsatz-Linear austragen5 profile 17 (with draft: the straight prism first)
    with BuildSketch(Plane.XY.offset(9)):
        with Locations((21, 47)):
            Circle(SKIZZE10_R)
    extrude(amount=AUFSATZ_LINEAR_AUSTRAGEN5_PROFILE_17_DEPTH)
    # Aufsatz-Linear austragen5 profile 17: the draft: its side faces are tilted about the plane it starts from
    aufsatz_linear_austragen5_profile_17_sides = [aufsatz_linear_austragen5_profile_17_tool.faces().sort_by_distance(p)[0] for p in [
        (20.05, 47, 11),
    ]]
    draft(aufsatz_linear_austragen5_profile_17_sides, Plane.XY.offset(9), AUFSATZ_LINEAR_AUSTRAGEN5_PROFILE_17_DRAFT)


with BuildPart() as part_17:
    add(part_16.part)

    # Aufsatz-Linear austragen5 profile 17: add aufsatz_linear_austragen5_profile_17_tool
    add(aufsatz_linear_austragen5_profile_17_tool.part)


with BuildPart() as aufsatz_linear_austragen5_profile_18_tool:
    # Skizze10 → Aufsatz-Linear austragen5 profile 18 (with draft: the straight prism first)
    with BuildSketch(Plane.XY.offset(9)):
        with Locations((51, 47)):
            Circle(SKIZZE10_R)
    extrude(amount=AUFSATZ_LINEAR_AUSTRAGEN5_PROFILE_18_DEPTH)
    # Aufsatz-Linear austragen5 profile 18: the draft: its side faces are tilted about the plane it starts from
    aufsatz_linear_austragen5_profile_18_sides = [aufsatz_linear_austragen5_profile_18_tool.faces().sort_by_distance(p)[0] for p in [
        (50.05, 47, 11),
    ]]
    draft(aufsatz_linear_austragen5_profile_18_sides, Plane.XY.offset(9), AUFSATZ_LINEAR_AUSTRAGEN5_PROFILE_18_DRAFT)


with BuildPart() as part_18:
    add(part_17.part)

    # Aufsatz-Linear austragen5 profile 18: add aufsatz_linear_austragen5_profile_18_tool
    add(aufsatz_linear_austragen5_profile_18_tool.part)


with BuildPart() as aufsatz_linear_austragen5_profile_19_tool:
    # Skizze10 → Aufsatz-Linear austragen5 profile 19 (with draft: the straight prism first)
    with BuildSketch(Plane.XY.offset(9)):
        with Locations((21, 21)):
            Circle(SKIZZE10_R)
    extrude(amount=AUFSATZ_LINEAR_AUSTRAGEN5_PROFILE_19_DEPTH)
    # Aufsatz-Linear austragen5 profile 19: the draft: its side faces are tilted about the plane it starts from
    aufsatz_linear_austragen5_profile_19_sides = [aufsatz_linear_austragen5_profile_19_tool.faces().sort_by_distance(p)[0] for p in [
        (20.05, 21, 11),
    ]]
    draft(aufsatz_linear_austragen5_profile_19_sides, Plane.XY.offset(9), AUFSATZ_LINEAR_AUSTRAGEN5_PROFILE_19_DRAFT)


with BuildPart() as part_19:
    add(part_18.part)

    # Aufsatz-Linear austragen5 profile 19: add aufsatz_linear_austragen5_profile_19_tool
    add(aufsatz_linear_austragen5_profile_19_tool.part)


with BuildPart() as aufsatz_linear_austragen5_profile_20_tool:
    # Skizze10 → Aufsatz-Linear austragen5 profile 20 (with draft: the straight prism first)
    with BuildSketch(Plane.XY.offset(9)):
        with Locations((51, 21)):
            Circle(SKIZZE10_R)
    extrude(amount=AUFSATZ_LINEAR_AUSTRAGEN5_PROFILE_20_DEPTH)
    # Aufsatz-Linear austragen5 profile 20: the draft: its side faces are tilted about the plane it starts from
    aufsatz_linear_austragen5_profile_20_sides = [aufsatz_linear_austragen5_profile_20_tool.faces().sort_by_distance(p)[0] for p in [
        (50.05, 21, 11),
    ]]
    draft(aufsatz_linear_austragen5_profile_20_sides, Plane.XY.offset(9), AUFSATZ_LINEAR_AUSTRAGEN5_PROFILE_20_DRAFT)


with BuildPart() as part_20:
    add(part_19.part)

    # Aufsatz-Linear austragen5 profile 20: add aufsatz_linear_austragen5_profile_20_tool
    add(aufsatz_linear_austragen5_profile_20_tool.part)

    # Fase1
    fase1_edges = [part_20.edges().sort_by_distance(p)[0] for p in [
        (-53.1, 67, 33),
        (44.9, 67, 33),
        (-53.1, -67, 33),
        (44.9, -67, 33),
    ]]
    chamfer(fase1_edges, length=FASE1_SIZE)

    # Skizze11 → Schnitt-Linear austragen4 (cut, through all)
    with BuildSketch(Plane.XY.offset(5)):
        with Locations((0, 35)):
            Rectangle(SKIZZE11_W, SKIZZE11_H)
    extrude(amount=-SCHNITT_LINEAR_AUSTRAGEN4_DEPTH, mode=Mode.SUBTRACT)

    # Skizze12 → Schnitt-Linear austragen5 (cut, two sides: drawn at the far end of the back side and taken through both)
    with BuildSketch(Plane.XY.offset(5).offset(-SCHNITT_LINEAR_AUSTRAGEN5_DEPTH_BACK)):
        with Locations((0, -36.815073926)):
            Rectangle(SKIZZE12_W, SKIZZE12_H)
    extrude(amount=SCHNITT_LINEAR_AUSTRAGEN5_DEPTH + SCHNITT_LINEAR_AUSTRAGEN5_DEPTH_BACK, mode=Mode.SUBTRACT)

    # Skizze13 → Schnitt-Linear austragen6 (cut)
    with BuildSketch(Plane.XY.offset(33)):
        with Locations((-1.45465504, 66.878424385)):
            Rectangle(SKIZZE13_W, SKIZZE13_H)
    extrude(amount=-SCHNITT_LINEAR_AUSTRAGEN6_DEPTH, mode=Mode.SUBTRACT)

    # Skizze14 → Schnitt-Linear austragen7 (cut, through all)
    with BuildSketch(Plane.XY.offset(5)):
        with Locations((-35.739328215, 35.667258796)):
            Rectangle(SKIZZE14_W, SKIZZE14_H)
        with Locations((0, 67.739171037)):
            Rectangle(SKIZZE14_W_2, SKIZZE14_H_2)
        with Locations((35.883148449, 35.667258796)):
            Rectangle(SKIZZE14_W_3, SKIZZE14_H)
    extrude(amount=-SCHNITT_LINEAR_AUSTRAGEN7_DEPTH, mode=Mode.SUBTRACT)

    # Skizze15 → Schnitt-Linear austragen8 (cut, through all)
    with BuildSketch(Plane.XY.offset(5)):
        with Locations((0, 34.469866426)):
            Rectangle(SKIZZE15_W, SKIZZE15_H)
    extrude(amount=-SCHNITT_LINEAR_AUSTRAGEN8_DEPTH, mode=Mode.SUBTRACT)


solid = part_20.part
